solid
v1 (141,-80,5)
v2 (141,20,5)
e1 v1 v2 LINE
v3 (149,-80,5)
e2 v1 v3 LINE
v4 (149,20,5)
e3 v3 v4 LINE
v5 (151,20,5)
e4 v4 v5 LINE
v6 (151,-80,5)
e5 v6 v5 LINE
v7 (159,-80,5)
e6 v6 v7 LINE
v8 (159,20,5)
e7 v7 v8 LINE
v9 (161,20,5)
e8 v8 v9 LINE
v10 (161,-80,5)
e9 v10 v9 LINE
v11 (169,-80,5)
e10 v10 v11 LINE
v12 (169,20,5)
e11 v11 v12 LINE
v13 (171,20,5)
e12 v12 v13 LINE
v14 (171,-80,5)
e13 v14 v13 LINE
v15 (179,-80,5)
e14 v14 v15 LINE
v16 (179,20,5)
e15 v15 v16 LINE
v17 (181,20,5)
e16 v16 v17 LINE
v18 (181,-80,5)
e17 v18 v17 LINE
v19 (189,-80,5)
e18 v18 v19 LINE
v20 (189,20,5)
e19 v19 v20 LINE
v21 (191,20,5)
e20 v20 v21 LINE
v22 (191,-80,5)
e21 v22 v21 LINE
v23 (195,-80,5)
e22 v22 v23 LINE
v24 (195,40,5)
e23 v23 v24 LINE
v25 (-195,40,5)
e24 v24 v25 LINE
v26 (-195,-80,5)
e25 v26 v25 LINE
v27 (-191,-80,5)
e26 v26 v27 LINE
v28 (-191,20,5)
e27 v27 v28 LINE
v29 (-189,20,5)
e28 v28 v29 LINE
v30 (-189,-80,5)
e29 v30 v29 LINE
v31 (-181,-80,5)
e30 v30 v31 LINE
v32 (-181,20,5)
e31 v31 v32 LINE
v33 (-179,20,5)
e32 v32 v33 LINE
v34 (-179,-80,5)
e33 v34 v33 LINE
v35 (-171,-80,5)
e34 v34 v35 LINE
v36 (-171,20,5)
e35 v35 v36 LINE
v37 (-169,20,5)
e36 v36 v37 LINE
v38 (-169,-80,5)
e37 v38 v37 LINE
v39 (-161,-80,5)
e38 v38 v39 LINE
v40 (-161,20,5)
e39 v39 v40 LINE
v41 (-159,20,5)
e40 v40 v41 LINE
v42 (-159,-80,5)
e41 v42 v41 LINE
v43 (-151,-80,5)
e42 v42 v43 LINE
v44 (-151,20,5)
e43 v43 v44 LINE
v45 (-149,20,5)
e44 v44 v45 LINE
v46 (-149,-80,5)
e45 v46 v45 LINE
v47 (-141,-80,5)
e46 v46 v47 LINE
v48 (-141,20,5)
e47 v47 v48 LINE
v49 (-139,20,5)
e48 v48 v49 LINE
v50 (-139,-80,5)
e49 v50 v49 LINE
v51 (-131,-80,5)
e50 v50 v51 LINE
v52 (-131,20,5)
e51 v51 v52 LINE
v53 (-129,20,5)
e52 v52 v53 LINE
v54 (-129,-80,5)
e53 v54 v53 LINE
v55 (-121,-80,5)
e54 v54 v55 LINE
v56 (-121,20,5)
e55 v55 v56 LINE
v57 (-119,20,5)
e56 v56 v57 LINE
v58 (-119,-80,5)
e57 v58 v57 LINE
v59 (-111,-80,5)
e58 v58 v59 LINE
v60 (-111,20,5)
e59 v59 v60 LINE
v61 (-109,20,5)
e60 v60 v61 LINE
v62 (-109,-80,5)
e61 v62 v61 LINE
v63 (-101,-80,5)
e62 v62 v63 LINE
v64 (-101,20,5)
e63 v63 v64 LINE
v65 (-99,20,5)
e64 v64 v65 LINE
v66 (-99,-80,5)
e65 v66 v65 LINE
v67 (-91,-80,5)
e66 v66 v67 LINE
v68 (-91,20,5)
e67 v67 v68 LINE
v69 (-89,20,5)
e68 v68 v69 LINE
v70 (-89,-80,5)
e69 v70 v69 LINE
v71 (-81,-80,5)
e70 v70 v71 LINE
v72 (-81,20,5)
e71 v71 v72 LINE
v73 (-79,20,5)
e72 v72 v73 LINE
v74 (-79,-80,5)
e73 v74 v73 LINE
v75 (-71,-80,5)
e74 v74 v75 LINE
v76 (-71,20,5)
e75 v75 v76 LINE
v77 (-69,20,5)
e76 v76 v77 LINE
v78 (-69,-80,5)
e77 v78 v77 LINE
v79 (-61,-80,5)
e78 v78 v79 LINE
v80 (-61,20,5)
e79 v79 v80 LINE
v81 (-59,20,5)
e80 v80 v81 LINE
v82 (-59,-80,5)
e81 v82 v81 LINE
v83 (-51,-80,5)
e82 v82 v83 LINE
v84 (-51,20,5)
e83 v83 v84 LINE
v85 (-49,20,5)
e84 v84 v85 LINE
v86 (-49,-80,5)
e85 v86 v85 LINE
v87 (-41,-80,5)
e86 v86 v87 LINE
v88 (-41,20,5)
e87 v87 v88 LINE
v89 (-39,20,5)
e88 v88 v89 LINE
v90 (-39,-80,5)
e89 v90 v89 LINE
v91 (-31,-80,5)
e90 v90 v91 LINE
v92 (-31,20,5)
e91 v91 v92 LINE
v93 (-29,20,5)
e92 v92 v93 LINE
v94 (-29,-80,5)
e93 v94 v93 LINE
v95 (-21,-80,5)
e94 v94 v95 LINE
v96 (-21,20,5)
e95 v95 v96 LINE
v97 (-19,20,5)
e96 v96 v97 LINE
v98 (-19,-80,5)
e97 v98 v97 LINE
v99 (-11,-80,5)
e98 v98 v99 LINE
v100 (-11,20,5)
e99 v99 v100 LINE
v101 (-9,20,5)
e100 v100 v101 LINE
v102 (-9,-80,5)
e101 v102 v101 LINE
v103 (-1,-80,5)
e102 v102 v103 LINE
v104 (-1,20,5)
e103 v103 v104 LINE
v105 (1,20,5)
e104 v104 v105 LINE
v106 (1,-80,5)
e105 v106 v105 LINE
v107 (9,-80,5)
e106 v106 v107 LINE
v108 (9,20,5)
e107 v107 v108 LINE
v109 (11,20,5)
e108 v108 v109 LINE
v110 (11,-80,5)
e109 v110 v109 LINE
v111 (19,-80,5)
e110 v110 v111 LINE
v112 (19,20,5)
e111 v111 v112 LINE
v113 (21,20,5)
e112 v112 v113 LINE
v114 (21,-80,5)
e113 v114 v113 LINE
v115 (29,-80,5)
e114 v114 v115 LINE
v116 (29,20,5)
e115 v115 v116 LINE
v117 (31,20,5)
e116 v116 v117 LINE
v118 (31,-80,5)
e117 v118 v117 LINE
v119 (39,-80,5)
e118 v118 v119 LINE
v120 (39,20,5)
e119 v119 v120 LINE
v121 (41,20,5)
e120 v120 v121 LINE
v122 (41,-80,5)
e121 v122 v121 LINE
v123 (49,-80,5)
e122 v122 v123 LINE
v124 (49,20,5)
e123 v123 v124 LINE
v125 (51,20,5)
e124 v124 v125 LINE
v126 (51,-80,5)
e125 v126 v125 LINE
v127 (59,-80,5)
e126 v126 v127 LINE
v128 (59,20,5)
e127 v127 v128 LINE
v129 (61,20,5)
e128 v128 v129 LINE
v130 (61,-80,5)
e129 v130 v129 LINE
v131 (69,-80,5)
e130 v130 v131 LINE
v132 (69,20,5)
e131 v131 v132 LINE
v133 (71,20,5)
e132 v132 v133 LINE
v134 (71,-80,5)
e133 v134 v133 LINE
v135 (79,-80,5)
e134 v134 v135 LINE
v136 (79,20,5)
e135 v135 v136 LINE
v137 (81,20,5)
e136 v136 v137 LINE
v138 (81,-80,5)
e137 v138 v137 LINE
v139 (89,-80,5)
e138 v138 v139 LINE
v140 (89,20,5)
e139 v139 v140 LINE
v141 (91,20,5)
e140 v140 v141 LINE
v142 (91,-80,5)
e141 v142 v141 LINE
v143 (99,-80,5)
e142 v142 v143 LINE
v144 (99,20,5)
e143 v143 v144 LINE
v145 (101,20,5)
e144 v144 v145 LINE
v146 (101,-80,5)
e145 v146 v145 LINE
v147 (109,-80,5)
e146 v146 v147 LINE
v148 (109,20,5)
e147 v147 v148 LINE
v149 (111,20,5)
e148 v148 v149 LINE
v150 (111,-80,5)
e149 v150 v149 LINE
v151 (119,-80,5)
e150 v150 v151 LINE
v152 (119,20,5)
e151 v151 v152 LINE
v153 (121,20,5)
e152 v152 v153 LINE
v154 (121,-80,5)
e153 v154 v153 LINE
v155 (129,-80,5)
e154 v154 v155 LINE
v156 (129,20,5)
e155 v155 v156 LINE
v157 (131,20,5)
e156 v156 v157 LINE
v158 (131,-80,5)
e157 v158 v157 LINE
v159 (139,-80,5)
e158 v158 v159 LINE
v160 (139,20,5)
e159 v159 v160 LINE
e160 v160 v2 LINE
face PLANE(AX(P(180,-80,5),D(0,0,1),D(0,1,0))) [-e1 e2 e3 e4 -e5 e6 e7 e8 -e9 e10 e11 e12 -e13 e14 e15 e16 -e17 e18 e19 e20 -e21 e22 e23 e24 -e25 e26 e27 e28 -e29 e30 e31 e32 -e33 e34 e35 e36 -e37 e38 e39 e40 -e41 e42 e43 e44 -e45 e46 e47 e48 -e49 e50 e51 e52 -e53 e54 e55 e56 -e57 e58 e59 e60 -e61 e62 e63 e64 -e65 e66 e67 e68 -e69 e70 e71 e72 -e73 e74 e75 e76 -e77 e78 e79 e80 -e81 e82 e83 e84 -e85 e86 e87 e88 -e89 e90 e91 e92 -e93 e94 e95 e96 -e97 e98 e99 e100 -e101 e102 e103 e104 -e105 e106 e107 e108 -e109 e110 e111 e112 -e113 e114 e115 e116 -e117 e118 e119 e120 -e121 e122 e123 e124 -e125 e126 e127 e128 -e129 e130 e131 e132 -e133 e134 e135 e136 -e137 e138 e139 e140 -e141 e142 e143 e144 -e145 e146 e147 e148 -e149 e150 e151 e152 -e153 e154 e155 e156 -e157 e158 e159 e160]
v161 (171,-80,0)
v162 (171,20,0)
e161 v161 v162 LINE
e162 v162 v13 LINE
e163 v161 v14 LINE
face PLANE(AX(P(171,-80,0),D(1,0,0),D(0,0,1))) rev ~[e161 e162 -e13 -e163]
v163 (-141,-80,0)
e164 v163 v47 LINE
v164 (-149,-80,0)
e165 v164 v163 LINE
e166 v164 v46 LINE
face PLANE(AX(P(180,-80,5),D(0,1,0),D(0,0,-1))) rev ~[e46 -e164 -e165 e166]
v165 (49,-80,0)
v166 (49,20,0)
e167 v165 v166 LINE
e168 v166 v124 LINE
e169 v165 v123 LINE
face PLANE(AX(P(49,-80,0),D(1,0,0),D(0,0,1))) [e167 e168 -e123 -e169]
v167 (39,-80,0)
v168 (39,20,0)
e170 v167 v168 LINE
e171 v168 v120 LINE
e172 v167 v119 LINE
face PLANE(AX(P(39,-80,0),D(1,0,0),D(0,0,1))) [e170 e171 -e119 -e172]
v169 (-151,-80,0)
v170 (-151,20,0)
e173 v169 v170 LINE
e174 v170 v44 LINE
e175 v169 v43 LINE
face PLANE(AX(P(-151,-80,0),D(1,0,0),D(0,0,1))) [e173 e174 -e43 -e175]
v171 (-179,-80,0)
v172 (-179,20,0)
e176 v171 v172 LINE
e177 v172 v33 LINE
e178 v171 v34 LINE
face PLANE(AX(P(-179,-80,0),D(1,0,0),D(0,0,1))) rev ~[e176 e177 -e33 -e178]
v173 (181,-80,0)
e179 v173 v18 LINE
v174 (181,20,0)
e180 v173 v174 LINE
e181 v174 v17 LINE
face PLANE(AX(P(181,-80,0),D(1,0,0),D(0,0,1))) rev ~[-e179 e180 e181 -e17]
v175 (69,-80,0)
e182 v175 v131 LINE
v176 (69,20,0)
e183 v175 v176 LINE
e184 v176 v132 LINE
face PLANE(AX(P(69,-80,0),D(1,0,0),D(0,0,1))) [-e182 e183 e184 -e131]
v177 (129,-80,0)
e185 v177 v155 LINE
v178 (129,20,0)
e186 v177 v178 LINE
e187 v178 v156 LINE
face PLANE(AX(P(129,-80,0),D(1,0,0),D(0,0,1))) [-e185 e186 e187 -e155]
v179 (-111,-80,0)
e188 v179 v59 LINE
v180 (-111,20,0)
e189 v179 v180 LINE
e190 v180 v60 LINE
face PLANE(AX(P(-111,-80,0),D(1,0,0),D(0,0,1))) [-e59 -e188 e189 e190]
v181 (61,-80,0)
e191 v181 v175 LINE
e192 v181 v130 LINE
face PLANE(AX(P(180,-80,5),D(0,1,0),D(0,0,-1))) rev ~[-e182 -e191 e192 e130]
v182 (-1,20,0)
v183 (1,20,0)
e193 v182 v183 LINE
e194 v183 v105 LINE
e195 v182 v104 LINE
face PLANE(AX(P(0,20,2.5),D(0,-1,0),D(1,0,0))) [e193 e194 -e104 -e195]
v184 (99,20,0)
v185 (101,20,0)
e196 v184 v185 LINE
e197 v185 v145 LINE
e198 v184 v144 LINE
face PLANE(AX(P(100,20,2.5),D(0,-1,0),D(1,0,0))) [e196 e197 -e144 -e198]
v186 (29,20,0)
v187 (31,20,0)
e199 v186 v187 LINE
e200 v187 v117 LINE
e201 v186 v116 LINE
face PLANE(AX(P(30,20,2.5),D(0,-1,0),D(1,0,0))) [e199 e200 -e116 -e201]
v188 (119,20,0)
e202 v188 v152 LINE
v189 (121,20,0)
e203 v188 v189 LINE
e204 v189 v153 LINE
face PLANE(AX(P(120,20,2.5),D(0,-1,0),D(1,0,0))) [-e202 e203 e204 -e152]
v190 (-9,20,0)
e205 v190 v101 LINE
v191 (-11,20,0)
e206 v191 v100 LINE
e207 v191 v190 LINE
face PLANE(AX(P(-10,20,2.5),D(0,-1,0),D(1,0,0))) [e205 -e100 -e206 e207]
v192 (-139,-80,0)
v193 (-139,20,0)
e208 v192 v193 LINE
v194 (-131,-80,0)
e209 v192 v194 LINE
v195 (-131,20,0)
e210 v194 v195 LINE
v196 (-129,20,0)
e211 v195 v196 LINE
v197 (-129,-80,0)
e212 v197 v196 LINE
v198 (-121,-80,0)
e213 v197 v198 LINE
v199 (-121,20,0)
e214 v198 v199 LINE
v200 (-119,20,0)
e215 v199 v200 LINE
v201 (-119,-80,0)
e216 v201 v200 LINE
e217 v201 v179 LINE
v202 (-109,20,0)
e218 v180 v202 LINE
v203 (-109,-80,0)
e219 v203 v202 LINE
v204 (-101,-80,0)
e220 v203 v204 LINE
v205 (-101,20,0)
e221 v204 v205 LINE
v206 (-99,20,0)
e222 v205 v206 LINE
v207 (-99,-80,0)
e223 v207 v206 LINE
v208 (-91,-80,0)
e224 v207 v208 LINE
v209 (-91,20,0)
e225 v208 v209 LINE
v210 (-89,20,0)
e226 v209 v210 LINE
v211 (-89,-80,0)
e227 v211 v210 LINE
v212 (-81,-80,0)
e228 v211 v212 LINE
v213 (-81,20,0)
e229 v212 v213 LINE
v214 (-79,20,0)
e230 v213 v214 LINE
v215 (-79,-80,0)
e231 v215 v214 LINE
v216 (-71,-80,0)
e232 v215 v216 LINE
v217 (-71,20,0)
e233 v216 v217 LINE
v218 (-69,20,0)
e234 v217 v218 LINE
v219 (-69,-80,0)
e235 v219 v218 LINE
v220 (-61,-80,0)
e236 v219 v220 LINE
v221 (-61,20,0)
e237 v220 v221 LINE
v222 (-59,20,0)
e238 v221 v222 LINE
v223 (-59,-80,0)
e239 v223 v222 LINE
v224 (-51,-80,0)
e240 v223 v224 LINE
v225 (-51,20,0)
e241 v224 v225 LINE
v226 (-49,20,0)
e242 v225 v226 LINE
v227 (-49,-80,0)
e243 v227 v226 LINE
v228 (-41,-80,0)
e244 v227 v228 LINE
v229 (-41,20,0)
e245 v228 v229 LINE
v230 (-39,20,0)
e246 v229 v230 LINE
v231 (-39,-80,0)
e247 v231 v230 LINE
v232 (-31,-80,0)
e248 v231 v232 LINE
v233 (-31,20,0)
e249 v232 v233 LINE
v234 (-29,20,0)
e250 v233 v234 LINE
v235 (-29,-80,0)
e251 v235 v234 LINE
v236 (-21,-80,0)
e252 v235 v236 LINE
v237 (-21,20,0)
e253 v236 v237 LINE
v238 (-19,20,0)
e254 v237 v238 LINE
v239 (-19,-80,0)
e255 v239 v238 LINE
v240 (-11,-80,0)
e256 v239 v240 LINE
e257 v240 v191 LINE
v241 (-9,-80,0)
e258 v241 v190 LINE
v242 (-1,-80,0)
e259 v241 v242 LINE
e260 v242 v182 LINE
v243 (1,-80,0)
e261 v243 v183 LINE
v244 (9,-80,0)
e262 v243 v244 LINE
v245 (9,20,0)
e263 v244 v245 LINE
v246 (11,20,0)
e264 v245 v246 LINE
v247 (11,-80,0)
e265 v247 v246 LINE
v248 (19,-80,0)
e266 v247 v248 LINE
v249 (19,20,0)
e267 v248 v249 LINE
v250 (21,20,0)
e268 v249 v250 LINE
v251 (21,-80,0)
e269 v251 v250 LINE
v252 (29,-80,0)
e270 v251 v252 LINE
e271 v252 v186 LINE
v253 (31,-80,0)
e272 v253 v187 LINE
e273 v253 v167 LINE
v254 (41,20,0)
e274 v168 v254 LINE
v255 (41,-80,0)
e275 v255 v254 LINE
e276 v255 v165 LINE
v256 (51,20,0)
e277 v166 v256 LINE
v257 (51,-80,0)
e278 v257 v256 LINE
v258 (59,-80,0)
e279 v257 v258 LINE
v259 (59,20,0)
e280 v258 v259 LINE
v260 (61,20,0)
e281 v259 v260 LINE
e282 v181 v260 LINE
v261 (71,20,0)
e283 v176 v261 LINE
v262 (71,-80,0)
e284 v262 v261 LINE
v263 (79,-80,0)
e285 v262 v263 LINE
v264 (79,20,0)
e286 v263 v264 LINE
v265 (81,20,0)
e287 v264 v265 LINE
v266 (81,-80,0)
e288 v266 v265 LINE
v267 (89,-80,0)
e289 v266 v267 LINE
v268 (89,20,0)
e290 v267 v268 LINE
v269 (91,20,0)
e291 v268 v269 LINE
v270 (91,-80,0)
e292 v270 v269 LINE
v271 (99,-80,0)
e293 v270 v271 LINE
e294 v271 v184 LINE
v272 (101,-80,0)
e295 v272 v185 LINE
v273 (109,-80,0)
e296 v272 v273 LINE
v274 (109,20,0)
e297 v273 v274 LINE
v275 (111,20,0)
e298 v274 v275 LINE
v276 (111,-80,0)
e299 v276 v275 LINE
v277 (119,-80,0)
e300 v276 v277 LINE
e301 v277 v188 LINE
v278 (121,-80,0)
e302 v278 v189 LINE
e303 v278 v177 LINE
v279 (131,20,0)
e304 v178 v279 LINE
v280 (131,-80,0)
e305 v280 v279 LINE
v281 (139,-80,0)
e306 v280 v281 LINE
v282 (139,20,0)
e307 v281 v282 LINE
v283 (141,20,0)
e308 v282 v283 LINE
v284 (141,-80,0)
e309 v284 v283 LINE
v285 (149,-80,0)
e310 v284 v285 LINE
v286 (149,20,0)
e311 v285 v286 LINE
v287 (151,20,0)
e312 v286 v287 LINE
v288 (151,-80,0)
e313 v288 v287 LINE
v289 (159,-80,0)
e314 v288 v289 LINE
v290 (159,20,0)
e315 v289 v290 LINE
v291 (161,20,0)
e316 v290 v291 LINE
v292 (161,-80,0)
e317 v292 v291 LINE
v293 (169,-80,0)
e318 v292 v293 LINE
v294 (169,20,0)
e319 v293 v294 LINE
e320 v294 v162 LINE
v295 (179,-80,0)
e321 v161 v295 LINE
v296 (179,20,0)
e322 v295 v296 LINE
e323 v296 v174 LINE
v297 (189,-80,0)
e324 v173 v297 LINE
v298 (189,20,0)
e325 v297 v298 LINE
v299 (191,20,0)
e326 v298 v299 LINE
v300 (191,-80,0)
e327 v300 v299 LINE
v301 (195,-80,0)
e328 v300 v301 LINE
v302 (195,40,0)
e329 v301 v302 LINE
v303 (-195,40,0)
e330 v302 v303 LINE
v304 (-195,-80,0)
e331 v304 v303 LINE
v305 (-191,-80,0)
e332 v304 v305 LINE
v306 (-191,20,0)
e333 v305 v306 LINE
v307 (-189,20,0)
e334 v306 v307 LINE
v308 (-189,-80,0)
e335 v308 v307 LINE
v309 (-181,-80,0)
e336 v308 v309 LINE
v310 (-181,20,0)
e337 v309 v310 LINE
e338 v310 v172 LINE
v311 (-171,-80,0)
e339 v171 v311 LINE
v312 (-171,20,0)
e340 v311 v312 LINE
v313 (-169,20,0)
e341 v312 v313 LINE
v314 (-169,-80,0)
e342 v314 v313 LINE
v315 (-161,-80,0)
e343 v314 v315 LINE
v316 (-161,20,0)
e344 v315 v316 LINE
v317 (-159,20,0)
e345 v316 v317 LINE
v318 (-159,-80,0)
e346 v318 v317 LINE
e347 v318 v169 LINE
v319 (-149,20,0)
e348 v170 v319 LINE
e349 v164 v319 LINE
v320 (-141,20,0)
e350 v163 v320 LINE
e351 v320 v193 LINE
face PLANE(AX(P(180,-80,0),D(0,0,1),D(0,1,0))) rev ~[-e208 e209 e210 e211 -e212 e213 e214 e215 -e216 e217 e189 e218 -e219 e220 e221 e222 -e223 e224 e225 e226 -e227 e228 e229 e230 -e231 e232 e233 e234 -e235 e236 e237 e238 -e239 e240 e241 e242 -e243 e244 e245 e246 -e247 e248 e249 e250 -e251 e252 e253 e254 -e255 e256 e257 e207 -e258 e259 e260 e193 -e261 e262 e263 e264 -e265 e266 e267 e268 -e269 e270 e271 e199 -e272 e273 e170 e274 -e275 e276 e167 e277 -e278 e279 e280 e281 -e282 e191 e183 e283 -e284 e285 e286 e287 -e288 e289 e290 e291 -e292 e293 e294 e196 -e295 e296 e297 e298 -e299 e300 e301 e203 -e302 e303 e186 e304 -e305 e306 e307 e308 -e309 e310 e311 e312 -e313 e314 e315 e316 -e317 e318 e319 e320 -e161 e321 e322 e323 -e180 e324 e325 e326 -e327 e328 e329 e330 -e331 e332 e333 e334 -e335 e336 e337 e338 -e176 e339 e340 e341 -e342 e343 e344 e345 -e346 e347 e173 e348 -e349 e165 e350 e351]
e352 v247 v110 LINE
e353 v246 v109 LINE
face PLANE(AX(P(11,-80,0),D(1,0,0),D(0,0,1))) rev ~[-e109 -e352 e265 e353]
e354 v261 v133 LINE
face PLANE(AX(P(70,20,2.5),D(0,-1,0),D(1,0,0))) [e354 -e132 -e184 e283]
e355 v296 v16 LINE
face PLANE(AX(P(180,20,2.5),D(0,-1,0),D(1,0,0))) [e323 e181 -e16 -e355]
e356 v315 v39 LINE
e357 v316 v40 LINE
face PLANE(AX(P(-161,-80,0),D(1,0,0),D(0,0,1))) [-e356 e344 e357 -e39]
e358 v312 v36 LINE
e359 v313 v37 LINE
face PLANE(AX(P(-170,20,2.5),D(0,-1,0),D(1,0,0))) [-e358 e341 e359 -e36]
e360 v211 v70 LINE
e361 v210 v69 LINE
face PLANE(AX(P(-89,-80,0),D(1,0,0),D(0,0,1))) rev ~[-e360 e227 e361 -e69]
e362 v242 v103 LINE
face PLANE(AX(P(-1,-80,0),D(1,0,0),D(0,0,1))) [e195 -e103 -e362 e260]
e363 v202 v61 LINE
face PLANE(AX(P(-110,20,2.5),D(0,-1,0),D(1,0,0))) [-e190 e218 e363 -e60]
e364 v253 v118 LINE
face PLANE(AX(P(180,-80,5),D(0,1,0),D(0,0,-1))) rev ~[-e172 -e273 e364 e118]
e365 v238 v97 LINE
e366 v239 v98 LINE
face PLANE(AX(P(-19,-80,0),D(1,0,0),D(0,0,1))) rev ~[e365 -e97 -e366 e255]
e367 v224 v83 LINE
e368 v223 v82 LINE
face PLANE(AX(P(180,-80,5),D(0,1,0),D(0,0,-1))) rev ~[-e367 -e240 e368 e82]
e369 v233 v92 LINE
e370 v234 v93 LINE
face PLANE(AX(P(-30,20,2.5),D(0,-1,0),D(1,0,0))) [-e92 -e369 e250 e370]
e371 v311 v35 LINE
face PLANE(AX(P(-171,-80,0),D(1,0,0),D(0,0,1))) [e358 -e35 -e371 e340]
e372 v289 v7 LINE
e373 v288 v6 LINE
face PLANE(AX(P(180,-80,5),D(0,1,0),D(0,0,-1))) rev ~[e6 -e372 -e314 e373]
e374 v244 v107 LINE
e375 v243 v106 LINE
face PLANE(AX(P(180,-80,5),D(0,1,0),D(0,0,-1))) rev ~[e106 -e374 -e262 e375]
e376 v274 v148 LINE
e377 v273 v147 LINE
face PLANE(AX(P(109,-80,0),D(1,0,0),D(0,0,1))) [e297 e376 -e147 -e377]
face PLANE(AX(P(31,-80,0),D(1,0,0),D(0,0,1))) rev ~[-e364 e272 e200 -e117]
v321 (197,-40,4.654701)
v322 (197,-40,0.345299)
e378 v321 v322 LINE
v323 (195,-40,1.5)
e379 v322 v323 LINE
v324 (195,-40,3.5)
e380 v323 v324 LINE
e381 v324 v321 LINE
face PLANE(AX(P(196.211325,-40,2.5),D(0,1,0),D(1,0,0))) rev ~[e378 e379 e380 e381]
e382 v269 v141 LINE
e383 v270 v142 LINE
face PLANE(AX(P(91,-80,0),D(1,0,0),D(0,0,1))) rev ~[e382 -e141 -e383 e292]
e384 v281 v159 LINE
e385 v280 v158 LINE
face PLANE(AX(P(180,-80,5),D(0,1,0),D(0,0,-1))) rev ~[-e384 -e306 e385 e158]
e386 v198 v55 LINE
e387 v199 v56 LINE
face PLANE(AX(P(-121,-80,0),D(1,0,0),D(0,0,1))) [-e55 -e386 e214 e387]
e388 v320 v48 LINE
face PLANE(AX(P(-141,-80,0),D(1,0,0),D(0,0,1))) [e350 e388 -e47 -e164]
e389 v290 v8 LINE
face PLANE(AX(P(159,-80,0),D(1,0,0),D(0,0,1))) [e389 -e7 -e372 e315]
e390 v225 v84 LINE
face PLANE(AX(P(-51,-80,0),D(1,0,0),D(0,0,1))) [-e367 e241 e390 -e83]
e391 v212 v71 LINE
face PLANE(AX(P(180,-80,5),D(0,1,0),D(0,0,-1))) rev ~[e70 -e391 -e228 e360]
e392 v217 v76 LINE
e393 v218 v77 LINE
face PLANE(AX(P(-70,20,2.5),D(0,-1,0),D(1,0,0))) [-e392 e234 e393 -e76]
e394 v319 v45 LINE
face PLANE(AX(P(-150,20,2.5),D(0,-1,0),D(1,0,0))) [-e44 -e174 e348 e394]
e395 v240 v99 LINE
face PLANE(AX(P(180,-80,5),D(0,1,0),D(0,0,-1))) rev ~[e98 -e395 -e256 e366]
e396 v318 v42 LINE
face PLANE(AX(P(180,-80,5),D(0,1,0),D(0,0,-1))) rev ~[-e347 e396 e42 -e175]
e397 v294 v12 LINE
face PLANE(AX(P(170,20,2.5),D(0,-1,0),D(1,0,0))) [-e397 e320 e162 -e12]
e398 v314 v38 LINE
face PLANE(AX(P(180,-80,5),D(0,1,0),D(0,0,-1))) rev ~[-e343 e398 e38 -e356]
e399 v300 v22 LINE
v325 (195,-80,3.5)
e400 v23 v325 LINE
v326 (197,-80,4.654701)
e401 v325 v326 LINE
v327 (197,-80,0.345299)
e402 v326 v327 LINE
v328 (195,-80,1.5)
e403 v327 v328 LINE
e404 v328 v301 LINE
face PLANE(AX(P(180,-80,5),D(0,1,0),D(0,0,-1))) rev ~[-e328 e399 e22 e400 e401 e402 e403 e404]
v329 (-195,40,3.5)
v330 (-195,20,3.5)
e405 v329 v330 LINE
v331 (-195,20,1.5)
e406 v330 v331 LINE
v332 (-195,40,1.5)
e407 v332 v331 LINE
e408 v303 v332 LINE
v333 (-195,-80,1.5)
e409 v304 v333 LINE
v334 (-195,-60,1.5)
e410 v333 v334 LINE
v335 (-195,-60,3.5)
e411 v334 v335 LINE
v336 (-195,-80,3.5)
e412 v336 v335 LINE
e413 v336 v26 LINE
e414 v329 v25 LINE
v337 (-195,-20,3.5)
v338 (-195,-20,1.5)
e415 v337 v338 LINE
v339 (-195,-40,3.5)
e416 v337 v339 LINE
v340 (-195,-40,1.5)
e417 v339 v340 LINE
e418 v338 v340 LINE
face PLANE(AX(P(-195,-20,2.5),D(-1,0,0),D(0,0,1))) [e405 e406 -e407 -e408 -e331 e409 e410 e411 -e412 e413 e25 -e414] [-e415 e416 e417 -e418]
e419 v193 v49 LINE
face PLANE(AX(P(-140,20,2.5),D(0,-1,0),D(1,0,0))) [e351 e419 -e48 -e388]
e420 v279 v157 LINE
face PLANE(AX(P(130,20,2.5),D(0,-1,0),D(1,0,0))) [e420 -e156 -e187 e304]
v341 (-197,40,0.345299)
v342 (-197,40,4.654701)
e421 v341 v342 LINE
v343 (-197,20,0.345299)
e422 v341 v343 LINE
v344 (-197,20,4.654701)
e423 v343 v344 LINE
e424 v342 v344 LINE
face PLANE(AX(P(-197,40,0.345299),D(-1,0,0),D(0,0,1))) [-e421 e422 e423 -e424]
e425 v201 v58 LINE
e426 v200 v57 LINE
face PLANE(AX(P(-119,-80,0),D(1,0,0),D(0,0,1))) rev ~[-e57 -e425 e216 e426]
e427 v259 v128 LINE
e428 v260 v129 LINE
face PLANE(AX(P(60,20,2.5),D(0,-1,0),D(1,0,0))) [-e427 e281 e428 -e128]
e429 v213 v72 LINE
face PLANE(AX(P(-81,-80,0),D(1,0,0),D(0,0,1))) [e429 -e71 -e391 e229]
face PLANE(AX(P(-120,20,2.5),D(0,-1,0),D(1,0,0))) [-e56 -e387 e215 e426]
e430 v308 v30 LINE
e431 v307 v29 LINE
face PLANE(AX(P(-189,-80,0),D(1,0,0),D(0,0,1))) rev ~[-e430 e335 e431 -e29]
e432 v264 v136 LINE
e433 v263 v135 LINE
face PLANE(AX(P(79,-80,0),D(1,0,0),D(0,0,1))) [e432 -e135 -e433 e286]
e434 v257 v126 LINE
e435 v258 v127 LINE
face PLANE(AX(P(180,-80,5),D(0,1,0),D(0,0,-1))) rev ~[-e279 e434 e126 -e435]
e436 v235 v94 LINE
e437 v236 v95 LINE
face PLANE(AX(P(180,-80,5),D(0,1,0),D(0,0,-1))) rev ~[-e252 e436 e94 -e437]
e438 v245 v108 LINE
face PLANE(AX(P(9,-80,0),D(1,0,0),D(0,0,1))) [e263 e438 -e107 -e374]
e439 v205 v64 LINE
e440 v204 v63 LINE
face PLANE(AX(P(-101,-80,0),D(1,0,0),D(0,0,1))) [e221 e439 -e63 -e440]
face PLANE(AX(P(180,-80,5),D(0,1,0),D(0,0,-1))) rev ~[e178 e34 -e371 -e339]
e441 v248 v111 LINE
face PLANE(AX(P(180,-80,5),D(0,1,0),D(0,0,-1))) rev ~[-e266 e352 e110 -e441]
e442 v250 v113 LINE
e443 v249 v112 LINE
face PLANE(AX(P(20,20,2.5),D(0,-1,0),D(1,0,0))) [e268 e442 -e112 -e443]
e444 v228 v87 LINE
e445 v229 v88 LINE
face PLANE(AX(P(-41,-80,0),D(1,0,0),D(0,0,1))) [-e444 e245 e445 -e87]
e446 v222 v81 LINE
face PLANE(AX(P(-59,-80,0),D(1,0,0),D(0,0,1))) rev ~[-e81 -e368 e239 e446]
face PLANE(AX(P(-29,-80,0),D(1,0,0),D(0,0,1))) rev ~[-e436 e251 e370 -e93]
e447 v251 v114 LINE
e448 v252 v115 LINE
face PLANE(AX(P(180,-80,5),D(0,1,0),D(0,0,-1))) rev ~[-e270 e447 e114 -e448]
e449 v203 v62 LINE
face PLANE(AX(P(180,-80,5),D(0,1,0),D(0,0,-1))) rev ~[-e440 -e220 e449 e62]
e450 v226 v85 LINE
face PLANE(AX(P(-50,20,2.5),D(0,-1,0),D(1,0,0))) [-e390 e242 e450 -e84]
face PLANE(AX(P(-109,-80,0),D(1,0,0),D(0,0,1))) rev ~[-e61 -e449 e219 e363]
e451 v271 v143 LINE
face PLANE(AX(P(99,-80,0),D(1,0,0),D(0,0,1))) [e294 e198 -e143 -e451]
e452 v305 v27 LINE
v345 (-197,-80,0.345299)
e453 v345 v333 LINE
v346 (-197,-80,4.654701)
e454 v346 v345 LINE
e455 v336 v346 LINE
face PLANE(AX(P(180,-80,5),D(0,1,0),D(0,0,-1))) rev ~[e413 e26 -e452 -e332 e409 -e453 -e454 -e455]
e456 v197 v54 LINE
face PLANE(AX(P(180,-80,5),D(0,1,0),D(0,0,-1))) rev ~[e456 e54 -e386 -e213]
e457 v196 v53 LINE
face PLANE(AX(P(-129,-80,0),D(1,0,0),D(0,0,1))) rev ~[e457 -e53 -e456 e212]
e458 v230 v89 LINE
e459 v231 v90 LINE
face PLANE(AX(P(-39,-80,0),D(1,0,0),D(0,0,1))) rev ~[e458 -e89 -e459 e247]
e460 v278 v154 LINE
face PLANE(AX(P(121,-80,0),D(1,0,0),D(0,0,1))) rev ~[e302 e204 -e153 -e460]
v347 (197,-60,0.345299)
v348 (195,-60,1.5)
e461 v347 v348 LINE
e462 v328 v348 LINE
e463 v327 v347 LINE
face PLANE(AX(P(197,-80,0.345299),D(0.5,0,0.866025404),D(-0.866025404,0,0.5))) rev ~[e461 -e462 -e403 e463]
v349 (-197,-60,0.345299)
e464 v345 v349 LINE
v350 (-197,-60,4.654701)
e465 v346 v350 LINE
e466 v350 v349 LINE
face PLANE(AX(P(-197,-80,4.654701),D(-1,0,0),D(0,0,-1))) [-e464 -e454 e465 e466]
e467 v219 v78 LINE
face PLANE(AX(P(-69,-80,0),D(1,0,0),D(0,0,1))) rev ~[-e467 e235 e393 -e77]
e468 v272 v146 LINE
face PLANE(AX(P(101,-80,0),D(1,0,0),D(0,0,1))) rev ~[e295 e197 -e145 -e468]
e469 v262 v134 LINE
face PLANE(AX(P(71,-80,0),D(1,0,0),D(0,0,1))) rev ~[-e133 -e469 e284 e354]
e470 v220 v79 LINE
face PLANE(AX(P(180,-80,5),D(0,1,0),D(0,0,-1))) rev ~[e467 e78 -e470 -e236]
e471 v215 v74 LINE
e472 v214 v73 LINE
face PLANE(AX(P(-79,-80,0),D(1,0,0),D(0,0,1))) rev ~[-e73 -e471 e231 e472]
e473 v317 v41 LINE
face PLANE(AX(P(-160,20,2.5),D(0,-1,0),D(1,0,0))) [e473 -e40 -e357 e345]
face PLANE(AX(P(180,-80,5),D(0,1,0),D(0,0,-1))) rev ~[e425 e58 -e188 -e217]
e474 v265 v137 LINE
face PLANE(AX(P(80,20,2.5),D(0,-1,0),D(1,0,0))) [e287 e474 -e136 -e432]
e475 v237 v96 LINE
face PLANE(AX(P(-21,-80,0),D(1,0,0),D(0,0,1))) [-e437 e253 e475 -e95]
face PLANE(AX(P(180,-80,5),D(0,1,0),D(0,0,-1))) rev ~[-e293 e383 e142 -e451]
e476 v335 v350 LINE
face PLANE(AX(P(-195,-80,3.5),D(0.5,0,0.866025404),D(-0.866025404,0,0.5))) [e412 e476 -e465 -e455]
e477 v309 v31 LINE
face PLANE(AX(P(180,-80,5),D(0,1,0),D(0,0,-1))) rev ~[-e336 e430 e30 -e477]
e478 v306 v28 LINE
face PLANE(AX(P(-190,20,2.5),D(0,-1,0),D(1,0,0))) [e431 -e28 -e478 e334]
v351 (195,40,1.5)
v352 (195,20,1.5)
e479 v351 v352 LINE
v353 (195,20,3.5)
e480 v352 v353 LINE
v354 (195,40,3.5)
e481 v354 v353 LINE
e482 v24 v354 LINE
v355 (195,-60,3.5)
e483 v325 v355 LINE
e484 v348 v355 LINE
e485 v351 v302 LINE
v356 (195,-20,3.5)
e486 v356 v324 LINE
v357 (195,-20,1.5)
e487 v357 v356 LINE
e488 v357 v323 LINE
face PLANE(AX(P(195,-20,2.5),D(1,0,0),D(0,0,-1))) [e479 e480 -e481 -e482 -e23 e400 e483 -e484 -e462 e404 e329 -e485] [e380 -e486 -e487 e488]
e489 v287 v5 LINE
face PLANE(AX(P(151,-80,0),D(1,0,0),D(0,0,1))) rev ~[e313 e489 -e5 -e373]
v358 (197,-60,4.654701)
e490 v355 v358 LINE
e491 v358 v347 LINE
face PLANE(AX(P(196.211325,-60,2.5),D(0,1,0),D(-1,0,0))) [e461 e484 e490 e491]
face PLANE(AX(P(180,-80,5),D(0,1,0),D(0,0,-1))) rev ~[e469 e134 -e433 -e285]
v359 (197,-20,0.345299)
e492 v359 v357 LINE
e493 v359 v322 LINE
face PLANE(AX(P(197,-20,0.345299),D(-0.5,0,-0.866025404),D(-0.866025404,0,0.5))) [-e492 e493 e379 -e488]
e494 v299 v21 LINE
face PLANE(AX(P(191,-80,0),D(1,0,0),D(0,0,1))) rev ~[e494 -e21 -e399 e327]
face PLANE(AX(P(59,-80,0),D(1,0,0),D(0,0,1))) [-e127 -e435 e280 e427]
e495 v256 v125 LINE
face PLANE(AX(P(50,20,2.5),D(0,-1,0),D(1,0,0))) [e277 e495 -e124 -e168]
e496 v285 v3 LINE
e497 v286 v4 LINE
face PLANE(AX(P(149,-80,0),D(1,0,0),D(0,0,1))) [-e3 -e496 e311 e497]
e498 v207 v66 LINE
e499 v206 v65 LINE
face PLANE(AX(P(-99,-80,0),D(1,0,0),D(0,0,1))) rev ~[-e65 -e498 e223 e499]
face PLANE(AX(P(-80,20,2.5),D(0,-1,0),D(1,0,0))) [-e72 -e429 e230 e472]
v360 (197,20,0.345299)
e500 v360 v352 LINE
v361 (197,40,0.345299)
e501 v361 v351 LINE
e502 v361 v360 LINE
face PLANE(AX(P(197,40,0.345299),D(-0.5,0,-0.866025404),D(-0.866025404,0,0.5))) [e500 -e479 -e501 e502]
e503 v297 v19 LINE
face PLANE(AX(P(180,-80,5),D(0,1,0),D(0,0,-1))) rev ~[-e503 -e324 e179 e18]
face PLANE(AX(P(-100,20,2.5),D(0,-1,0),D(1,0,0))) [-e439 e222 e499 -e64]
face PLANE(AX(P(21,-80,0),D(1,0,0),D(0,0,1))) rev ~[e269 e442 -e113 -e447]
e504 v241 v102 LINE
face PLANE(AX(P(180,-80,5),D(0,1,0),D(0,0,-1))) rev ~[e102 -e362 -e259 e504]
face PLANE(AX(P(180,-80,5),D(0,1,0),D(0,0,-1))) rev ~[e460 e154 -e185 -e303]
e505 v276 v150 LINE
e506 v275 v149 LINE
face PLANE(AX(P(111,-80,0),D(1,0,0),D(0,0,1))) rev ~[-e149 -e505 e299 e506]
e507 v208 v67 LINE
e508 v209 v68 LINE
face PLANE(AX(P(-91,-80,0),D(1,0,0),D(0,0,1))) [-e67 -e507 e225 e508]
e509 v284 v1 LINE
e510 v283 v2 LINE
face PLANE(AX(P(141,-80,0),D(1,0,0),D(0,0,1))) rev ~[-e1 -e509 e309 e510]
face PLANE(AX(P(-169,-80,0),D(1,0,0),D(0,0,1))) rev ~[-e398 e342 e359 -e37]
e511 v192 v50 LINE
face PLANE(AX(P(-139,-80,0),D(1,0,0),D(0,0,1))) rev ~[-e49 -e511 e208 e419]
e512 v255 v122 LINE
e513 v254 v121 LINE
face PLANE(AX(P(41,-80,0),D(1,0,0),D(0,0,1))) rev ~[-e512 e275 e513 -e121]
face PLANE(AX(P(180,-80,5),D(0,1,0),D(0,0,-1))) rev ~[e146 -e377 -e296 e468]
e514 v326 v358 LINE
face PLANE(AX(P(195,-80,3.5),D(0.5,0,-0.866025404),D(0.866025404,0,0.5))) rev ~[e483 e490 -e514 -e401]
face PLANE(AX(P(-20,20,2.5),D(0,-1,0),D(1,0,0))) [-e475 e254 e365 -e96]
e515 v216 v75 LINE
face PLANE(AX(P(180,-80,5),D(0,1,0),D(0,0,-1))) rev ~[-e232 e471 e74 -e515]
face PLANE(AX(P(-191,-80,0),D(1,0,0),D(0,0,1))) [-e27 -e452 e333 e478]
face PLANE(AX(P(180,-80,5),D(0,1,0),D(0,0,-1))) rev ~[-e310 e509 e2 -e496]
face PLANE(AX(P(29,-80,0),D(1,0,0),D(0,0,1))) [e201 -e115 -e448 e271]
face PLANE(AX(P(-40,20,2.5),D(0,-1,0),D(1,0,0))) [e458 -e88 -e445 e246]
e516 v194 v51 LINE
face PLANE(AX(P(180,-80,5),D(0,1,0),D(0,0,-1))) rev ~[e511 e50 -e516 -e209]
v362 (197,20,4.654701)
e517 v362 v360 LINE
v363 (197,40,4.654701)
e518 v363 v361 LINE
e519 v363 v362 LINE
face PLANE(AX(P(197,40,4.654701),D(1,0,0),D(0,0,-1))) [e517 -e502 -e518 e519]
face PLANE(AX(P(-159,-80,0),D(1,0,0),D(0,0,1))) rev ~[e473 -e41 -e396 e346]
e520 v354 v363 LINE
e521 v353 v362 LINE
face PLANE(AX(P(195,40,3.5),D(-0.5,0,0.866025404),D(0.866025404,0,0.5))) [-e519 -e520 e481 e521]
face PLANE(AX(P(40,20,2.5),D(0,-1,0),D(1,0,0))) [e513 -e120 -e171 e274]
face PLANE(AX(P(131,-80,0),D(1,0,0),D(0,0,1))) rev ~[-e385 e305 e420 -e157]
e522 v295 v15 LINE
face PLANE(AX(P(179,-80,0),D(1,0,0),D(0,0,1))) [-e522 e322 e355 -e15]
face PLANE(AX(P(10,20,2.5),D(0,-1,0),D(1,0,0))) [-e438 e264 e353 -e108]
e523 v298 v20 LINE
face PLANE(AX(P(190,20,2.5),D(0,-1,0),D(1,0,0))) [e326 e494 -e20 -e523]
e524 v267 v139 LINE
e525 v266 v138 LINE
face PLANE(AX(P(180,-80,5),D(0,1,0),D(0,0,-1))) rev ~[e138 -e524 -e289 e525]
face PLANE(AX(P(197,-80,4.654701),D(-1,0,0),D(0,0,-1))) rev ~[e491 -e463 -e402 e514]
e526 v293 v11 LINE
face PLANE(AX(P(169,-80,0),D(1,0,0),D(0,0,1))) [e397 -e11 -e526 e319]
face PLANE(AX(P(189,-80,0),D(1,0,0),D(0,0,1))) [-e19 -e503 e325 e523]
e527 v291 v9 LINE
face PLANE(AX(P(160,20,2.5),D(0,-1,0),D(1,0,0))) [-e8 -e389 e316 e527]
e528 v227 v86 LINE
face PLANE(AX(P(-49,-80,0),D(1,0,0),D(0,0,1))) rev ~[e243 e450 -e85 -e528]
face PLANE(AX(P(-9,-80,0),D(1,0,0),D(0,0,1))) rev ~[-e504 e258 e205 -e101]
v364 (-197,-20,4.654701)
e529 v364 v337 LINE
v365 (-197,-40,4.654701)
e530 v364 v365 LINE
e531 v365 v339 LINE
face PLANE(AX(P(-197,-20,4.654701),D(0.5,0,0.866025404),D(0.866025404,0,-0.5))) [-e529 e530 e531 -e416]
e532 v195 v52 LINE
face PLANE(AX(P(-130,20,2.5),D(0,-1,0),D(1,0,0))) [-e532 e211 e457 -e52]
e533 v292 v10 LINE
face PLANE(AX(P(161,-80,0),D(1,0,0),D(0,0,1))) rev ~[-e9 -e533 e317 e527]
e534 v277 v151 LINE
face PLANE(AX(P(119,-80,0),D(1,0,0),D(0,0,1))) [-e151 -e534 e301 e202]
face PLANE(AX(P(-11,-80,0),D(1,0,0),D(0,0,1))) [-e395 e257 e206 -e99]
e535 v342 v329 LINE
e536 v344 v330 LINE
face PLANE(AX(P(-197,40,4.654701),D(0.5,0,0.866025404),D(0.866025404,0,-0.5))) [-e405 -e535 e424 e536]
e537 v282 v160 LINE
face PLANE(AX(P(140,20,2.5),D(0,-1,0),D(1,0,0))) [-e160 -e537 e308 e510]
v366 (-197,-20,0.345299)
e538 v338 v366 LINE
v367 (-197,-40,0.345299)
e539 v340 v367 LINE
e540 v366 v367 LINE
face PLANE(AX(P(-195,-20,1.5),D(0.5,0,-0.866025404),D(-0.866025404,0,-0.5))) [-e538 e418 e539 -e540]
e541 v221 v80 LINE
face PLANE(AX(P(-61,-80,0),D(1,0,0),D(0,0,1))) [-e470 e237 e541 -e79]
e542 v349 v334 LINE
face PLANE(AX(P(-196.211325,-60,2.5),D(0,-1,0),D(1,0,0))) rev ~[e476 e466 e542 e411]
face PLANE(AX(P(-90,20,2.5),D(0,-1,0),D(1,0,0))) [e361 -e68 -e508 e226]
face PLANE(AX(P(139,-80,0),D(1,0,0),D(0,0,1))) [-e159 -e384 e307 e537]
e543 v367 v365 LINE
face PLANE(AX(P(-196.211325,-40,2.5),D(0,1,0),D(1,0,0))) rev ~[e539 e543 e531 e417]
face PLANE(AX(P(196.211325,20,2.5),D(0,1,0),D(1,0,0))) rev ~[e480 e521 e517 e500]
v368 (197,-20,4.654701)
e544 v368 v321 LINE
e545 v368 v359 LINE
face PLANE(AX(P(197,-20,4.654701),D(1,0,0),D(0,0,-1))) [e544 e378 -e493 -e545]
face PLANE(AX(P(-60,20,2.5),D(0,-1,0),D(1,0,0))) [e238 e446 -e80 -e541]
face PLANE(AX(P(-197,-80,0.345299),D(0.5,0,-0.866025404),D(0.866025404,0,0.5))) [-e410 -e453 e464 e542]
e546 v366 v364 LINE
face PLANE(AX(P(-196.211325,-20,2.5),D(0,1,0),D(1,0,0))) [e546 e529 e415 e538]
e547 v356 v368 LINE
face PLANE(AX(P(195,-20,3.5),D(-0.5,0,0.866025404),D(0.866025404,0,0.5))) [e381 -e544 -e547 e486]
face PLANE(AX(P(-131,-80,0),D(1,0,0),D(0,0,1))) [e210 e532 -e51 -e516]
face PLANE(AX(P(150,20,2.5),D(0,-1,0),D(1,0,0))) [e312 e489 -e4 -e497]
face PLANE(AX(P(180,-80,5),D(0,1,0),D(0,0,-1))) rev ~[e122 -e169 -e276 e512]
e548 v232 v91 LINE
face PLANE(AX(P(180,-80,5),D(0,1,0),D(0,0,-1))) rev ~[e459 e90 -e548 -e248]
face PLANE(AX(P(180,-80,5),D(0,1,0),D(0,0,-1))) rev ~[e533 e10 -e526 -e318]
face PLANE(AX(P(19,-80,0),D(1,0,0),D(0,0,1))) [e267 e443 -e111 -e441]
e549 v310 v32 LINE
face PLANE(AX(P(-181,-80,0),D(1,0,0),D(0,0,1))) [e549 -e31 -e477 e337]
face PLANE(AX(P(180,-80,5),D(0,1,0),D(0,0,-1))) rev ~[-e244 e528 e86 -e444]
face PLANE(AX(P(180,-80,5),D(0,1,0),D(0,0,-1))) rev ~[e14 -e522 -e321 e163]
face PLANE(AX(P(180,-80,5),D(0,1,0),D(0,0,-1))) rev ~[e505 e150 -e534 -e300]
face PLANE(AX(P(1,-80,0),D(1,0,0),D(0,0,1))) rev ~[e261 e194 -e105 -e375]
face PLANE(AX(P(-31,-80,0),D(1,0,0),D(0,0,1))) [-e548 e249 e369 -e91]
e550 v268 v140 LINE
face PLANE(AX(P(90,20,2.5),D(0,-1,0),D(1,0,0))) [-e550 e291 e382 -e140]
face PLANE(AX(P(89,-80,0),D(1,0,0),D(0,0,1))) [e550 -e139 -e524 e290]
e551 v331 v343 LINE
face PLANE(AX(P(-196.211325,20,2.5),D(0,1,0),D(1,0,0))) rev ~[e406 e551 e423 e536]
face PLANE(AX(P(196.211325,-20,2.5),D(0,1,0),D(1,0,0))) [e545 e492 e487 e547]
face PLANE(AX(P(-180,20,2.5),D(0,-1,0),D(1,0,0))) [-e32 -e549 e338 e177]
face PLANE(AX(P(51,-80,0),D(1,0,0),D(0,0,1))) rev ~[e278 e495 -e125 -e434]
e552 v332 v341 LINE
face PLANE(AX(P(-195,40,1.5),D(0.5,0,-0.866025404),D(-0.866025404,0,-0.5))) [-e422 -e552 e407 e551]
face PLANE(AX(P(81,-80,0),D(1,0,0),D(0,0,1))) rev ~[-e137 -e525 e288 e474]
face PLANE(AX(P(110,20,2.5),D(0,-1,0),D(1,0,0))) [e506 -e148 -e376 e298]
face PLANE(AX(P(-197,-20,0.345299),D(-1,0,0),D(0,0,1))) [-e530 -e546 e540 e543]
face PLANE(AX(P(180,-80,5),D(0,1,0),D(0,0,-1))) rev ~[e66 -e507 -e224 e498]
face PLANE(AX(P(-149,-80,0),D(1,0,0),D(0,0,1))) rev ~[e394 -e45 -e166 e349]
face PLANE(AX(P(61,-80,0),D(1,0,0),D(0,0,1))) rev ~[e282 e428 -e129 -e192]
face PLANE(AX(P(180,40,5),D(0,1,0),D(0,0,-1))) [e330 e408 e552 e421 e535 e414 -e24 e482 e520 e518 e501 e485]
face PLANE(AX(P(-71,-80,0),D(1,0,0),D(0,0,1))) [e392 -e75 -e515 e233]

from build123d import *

# Parameters (mm, degrees)
SKETCH_1_W          = 360
SKETCH_1_H          = 80
EXTRUDE_1_DEPTH     = 5
SKETCH_3_W          = 360
SKETCH_3_H          = 5
EXTRUDE_2_DEPTH     = 40
SKETCH_4_W          = 5
SKETCH_4_H          = 120
EXTRUDE_3_DEPTH     = 15
SKETCH_5_W          = 5
SKETCH_5_H          = 120
EXTRUDE_4_DEPTH     = 15
EXTRUDE_5_DEPTH     = 20
EXTRUDE_6_DEPTH     = 20
EXTRUDE_START       = -20
EXTRUDE_7_DEPTH     = 20
SKETCH_9_W          = 2
SKETCH_9_H          = 5
CUT_EXTRUDE_1_DEPTH = 100


with BuildPart() as part:
    # 草图1 → 凸台-拉伸1 (new body)
    with BuildSketch(Plane.XY):
        Rectangle(SKETCH_1_W, SKETCH_1_H)
    extrude(amount=EXTRUDE_1_DEPTH)

    # 草图3 → 凸台-拉伸2 (add)
    with BuildSketch(Plane.XZ.offset(40)):
        with Locations((0, 2.5)):
            Rectangle(SKETCH_3_W, SKETCH_3_H)
    extrude(amount=EXTRUDE_2_DEPTH)

    # 草图4 → 凸台-拉伸3 (add)
    with BuildSketch(Plane.ZY.offset(180)):
        with Locations((2.5, -20)):
            Rectangle(SKETCH_4_W, SKETCH_4_H)
    extrude(amount=EXTRUDE_3_DEPTH)

    # 草图5 → 凸台-拉伸4 (add)
    with BuildSketch(Plane(origin=(180, 0, 0), x_dir=(0, 0, -1), z_dir=(1, 0, 0))):
        with Locations((-2.5, -20)):
            Rectangle(SKETCH_5_W, SKETCH_5_H)
    extrude(amount=EXTRUDE_4_DEPTH)

    # 草图6 → 凸台-拉伸5 (add)
    with BuildSketch(Plane.XZ.offset(80)):
        Polygon((-195, 3.5), (-197, 4.654700538), (-197, 0.345299462), (-195, 1.5), align=None)
        Polygon((195, 1.5), (195, 3.5), (197, 4.654700538), (197, 0.345299462), align=None)
    extrude(amount=-EXTRUDE_5_DEPTH)

    # 草图7 → 凸台-拉伸6 (add)
    with BuildSketch(Plane(origin=(0, 40, 0), x_dir=(1, 0, 0), z_dir=(0, 1, 0))):
        Polygon((-195, -3.5), (-195, -1.5), (-197, -0.345299462), (-197, -4.654700538), align=None)
        Polygon((197, -0.345299462), (195, -1.5), (195, -3.5), (197, -4.654700538), align=None)
    extrude(amount=-EXTRUDE_6_DEPTH)

    # 草图8 → 凸台-拉伸7 (add)
    with BuildSketch(Plane(origin=(0, 0, 0), x_dir=(1, 0, 0), z_dir=(0, 1, 0)).offset(EXTRUDE_START)):
        Polygon((-195, -3.5), (-195, -1.5), (-197, -0.345299462), (-197, -4.654700538), align=None)
        Polygon((197, -0.345299462), (195, -1.5), (195, -3.5), (197, -4.654700538), align=None)
    extrude(amount=-EXTRUDE_7_DEPTH)

    # 草图9 → 切除-拉伸1 (cut)
    with BuildSketch(Plane.XZ.offset(80)):
        with Locations((10, 2.5)):
            Rectangle(SKETCH_9_W, SKETCH_9_H)
        with Locations((20, 2.5)):
            Rectangle(SKETCH_9_W, SKETCH_9_H)
        with Locations((0, 2.5)):
            Rectangle(SKETCH_9_W, SKETCH_9_H)
        with Locations((30, 2.5)):
            Rectangle(SKETCH_9_W, SKETCH_9_H)
        with Locations((40, 2.5)):
            Rectangle(SKETCH_9_W, SKETCH_9_H)
        with Locations((50, 2.5)):
            Rectangle(SKETCH_9_W, SKETCH_9_H)
        with Locations((60, 2.5)):
            Rectangle(SKETCH_9_W, SKETCH_9_H)
        with Locations((70, 2.5)):
            Rectangle(SKETCH_9_W, SKETCH_9_H)
        with Locations((80, 2.5)):
            Rectangle(SKETCH_9_W, SKETCH_9_H)
        with Locations((90, 2.5)):
            Rectangle(SKETCH_9_W, SKETCH_9_H)
        with Locations((100, 2.5)):
            Rectangle(SKETCH_9_W, SKETCH_9_H)
        with Locations((110, 2.5)):
            Rectangle(SKETCH_9_W, SKETCH_9_H)
        with Locations((120, 2.5)):
            Rectangle(SKETCH_9_W, SKETCH_9_H)
        with Locations((130, 2.5)):
            Rectangle(SKETCH_9_W, SKETCH_9_H)
        with Locations((140, 2.5)):
            Rectangle(SKETCH_9_W, SKETCH_9_H)
        with Locations((150, 2.5)):
            Rectangle(SKETCH_9_W, SKETCH_9_H)
        with Locations((160, 2.5)):
            Rectangle(SKETCH_9_W, SKETCH_9_H)
        with Locations((170, 2.5)):
            Rectangle(SKETCH_9_W, SKETCH_9_H)
        with Locations((180, 2.5)):
            Rectangle(SKETCH_9_W, SKETCH_9_H)
        with Locations((190, 2.5)):
            Rectangle(SKETCH_9_W, SKETCH_9_H)
        with Locations((-10, 2.5)):
            Rectangle(SKETCH_9_W, SKETCH_9_H)
        with Locations((-20, 2.5)):
            Rectangle(SKETCH_9_W, SKETCH_9_H)
        with Locations((-30, 2.5)):
            Rectangle(SKETCH_9_W, SKETCH_9_H)
        with Locations((-40, 2.5)):
            Rectangle(SKETCH_9_W, SKETCH_9_H)
        with Locations((-50, 2.5)):
            Rectangle(SKETCH_9_W, SKETCH_9_H)
        with Locations((-60, 2.5)):
            Rectangle(SKETCH_9_W, SKETCH_9_H)
        with Locations((-70, 2.5)):
            Rectangle(SKETCH_9_W, SKETCH_9_H)
        with Locations((-80, 2.5)):
            Rectangle(SKETCH_9_W, SKETCH_9_H)
        with Locations((-90, 2.5)):
            Rectangle(SKETCH_9_W, SKETCH_9_H)
        with Locations((-100, 2.5)):
            Rectangle(SKETCH_9_W, SKETCH_9_H)
        with Locations((-110, 2.5)):
            Rectangle(SKETCH_9_W, SKETCH_9_H)
        with Locations((-120, 2.5)):
            Rectangle(SKETCH_9_W, SKETCH_9_H)
        with Locations((-130, 2.5)):
            Rectangle(SKETCH_9_W, SKETCH_9_H)
        with Locations((-140, 2.5)):
            Rectangle(SKETCH_9_W, SKETCH_9_H)
        with Locations((-150, 2.5)):
            Rectangle(SKETCH_9_W, SKETCH_9_H)
        with Locations((-160, 2.5)):
            Rectangle(SKETCH_9_W, SKETCH_9_H)
        with Locations((-170, 2.5)):
            Rectangle(SKETCH_9_W, SKETCH_9_H)
        with Locations((-180, 2.5)):
            Rectangle(SKETCH_9_W, SKETCH_9_H)
        with Locations((-190, 2.5)):
            Rectangle(SKETCH_9_W, SKETCH_9_H)
    extrude(amount=-CUT_EXTRUDE_1_DEPTH, mode=Mode.SUBTRACT)


solid = part.part
